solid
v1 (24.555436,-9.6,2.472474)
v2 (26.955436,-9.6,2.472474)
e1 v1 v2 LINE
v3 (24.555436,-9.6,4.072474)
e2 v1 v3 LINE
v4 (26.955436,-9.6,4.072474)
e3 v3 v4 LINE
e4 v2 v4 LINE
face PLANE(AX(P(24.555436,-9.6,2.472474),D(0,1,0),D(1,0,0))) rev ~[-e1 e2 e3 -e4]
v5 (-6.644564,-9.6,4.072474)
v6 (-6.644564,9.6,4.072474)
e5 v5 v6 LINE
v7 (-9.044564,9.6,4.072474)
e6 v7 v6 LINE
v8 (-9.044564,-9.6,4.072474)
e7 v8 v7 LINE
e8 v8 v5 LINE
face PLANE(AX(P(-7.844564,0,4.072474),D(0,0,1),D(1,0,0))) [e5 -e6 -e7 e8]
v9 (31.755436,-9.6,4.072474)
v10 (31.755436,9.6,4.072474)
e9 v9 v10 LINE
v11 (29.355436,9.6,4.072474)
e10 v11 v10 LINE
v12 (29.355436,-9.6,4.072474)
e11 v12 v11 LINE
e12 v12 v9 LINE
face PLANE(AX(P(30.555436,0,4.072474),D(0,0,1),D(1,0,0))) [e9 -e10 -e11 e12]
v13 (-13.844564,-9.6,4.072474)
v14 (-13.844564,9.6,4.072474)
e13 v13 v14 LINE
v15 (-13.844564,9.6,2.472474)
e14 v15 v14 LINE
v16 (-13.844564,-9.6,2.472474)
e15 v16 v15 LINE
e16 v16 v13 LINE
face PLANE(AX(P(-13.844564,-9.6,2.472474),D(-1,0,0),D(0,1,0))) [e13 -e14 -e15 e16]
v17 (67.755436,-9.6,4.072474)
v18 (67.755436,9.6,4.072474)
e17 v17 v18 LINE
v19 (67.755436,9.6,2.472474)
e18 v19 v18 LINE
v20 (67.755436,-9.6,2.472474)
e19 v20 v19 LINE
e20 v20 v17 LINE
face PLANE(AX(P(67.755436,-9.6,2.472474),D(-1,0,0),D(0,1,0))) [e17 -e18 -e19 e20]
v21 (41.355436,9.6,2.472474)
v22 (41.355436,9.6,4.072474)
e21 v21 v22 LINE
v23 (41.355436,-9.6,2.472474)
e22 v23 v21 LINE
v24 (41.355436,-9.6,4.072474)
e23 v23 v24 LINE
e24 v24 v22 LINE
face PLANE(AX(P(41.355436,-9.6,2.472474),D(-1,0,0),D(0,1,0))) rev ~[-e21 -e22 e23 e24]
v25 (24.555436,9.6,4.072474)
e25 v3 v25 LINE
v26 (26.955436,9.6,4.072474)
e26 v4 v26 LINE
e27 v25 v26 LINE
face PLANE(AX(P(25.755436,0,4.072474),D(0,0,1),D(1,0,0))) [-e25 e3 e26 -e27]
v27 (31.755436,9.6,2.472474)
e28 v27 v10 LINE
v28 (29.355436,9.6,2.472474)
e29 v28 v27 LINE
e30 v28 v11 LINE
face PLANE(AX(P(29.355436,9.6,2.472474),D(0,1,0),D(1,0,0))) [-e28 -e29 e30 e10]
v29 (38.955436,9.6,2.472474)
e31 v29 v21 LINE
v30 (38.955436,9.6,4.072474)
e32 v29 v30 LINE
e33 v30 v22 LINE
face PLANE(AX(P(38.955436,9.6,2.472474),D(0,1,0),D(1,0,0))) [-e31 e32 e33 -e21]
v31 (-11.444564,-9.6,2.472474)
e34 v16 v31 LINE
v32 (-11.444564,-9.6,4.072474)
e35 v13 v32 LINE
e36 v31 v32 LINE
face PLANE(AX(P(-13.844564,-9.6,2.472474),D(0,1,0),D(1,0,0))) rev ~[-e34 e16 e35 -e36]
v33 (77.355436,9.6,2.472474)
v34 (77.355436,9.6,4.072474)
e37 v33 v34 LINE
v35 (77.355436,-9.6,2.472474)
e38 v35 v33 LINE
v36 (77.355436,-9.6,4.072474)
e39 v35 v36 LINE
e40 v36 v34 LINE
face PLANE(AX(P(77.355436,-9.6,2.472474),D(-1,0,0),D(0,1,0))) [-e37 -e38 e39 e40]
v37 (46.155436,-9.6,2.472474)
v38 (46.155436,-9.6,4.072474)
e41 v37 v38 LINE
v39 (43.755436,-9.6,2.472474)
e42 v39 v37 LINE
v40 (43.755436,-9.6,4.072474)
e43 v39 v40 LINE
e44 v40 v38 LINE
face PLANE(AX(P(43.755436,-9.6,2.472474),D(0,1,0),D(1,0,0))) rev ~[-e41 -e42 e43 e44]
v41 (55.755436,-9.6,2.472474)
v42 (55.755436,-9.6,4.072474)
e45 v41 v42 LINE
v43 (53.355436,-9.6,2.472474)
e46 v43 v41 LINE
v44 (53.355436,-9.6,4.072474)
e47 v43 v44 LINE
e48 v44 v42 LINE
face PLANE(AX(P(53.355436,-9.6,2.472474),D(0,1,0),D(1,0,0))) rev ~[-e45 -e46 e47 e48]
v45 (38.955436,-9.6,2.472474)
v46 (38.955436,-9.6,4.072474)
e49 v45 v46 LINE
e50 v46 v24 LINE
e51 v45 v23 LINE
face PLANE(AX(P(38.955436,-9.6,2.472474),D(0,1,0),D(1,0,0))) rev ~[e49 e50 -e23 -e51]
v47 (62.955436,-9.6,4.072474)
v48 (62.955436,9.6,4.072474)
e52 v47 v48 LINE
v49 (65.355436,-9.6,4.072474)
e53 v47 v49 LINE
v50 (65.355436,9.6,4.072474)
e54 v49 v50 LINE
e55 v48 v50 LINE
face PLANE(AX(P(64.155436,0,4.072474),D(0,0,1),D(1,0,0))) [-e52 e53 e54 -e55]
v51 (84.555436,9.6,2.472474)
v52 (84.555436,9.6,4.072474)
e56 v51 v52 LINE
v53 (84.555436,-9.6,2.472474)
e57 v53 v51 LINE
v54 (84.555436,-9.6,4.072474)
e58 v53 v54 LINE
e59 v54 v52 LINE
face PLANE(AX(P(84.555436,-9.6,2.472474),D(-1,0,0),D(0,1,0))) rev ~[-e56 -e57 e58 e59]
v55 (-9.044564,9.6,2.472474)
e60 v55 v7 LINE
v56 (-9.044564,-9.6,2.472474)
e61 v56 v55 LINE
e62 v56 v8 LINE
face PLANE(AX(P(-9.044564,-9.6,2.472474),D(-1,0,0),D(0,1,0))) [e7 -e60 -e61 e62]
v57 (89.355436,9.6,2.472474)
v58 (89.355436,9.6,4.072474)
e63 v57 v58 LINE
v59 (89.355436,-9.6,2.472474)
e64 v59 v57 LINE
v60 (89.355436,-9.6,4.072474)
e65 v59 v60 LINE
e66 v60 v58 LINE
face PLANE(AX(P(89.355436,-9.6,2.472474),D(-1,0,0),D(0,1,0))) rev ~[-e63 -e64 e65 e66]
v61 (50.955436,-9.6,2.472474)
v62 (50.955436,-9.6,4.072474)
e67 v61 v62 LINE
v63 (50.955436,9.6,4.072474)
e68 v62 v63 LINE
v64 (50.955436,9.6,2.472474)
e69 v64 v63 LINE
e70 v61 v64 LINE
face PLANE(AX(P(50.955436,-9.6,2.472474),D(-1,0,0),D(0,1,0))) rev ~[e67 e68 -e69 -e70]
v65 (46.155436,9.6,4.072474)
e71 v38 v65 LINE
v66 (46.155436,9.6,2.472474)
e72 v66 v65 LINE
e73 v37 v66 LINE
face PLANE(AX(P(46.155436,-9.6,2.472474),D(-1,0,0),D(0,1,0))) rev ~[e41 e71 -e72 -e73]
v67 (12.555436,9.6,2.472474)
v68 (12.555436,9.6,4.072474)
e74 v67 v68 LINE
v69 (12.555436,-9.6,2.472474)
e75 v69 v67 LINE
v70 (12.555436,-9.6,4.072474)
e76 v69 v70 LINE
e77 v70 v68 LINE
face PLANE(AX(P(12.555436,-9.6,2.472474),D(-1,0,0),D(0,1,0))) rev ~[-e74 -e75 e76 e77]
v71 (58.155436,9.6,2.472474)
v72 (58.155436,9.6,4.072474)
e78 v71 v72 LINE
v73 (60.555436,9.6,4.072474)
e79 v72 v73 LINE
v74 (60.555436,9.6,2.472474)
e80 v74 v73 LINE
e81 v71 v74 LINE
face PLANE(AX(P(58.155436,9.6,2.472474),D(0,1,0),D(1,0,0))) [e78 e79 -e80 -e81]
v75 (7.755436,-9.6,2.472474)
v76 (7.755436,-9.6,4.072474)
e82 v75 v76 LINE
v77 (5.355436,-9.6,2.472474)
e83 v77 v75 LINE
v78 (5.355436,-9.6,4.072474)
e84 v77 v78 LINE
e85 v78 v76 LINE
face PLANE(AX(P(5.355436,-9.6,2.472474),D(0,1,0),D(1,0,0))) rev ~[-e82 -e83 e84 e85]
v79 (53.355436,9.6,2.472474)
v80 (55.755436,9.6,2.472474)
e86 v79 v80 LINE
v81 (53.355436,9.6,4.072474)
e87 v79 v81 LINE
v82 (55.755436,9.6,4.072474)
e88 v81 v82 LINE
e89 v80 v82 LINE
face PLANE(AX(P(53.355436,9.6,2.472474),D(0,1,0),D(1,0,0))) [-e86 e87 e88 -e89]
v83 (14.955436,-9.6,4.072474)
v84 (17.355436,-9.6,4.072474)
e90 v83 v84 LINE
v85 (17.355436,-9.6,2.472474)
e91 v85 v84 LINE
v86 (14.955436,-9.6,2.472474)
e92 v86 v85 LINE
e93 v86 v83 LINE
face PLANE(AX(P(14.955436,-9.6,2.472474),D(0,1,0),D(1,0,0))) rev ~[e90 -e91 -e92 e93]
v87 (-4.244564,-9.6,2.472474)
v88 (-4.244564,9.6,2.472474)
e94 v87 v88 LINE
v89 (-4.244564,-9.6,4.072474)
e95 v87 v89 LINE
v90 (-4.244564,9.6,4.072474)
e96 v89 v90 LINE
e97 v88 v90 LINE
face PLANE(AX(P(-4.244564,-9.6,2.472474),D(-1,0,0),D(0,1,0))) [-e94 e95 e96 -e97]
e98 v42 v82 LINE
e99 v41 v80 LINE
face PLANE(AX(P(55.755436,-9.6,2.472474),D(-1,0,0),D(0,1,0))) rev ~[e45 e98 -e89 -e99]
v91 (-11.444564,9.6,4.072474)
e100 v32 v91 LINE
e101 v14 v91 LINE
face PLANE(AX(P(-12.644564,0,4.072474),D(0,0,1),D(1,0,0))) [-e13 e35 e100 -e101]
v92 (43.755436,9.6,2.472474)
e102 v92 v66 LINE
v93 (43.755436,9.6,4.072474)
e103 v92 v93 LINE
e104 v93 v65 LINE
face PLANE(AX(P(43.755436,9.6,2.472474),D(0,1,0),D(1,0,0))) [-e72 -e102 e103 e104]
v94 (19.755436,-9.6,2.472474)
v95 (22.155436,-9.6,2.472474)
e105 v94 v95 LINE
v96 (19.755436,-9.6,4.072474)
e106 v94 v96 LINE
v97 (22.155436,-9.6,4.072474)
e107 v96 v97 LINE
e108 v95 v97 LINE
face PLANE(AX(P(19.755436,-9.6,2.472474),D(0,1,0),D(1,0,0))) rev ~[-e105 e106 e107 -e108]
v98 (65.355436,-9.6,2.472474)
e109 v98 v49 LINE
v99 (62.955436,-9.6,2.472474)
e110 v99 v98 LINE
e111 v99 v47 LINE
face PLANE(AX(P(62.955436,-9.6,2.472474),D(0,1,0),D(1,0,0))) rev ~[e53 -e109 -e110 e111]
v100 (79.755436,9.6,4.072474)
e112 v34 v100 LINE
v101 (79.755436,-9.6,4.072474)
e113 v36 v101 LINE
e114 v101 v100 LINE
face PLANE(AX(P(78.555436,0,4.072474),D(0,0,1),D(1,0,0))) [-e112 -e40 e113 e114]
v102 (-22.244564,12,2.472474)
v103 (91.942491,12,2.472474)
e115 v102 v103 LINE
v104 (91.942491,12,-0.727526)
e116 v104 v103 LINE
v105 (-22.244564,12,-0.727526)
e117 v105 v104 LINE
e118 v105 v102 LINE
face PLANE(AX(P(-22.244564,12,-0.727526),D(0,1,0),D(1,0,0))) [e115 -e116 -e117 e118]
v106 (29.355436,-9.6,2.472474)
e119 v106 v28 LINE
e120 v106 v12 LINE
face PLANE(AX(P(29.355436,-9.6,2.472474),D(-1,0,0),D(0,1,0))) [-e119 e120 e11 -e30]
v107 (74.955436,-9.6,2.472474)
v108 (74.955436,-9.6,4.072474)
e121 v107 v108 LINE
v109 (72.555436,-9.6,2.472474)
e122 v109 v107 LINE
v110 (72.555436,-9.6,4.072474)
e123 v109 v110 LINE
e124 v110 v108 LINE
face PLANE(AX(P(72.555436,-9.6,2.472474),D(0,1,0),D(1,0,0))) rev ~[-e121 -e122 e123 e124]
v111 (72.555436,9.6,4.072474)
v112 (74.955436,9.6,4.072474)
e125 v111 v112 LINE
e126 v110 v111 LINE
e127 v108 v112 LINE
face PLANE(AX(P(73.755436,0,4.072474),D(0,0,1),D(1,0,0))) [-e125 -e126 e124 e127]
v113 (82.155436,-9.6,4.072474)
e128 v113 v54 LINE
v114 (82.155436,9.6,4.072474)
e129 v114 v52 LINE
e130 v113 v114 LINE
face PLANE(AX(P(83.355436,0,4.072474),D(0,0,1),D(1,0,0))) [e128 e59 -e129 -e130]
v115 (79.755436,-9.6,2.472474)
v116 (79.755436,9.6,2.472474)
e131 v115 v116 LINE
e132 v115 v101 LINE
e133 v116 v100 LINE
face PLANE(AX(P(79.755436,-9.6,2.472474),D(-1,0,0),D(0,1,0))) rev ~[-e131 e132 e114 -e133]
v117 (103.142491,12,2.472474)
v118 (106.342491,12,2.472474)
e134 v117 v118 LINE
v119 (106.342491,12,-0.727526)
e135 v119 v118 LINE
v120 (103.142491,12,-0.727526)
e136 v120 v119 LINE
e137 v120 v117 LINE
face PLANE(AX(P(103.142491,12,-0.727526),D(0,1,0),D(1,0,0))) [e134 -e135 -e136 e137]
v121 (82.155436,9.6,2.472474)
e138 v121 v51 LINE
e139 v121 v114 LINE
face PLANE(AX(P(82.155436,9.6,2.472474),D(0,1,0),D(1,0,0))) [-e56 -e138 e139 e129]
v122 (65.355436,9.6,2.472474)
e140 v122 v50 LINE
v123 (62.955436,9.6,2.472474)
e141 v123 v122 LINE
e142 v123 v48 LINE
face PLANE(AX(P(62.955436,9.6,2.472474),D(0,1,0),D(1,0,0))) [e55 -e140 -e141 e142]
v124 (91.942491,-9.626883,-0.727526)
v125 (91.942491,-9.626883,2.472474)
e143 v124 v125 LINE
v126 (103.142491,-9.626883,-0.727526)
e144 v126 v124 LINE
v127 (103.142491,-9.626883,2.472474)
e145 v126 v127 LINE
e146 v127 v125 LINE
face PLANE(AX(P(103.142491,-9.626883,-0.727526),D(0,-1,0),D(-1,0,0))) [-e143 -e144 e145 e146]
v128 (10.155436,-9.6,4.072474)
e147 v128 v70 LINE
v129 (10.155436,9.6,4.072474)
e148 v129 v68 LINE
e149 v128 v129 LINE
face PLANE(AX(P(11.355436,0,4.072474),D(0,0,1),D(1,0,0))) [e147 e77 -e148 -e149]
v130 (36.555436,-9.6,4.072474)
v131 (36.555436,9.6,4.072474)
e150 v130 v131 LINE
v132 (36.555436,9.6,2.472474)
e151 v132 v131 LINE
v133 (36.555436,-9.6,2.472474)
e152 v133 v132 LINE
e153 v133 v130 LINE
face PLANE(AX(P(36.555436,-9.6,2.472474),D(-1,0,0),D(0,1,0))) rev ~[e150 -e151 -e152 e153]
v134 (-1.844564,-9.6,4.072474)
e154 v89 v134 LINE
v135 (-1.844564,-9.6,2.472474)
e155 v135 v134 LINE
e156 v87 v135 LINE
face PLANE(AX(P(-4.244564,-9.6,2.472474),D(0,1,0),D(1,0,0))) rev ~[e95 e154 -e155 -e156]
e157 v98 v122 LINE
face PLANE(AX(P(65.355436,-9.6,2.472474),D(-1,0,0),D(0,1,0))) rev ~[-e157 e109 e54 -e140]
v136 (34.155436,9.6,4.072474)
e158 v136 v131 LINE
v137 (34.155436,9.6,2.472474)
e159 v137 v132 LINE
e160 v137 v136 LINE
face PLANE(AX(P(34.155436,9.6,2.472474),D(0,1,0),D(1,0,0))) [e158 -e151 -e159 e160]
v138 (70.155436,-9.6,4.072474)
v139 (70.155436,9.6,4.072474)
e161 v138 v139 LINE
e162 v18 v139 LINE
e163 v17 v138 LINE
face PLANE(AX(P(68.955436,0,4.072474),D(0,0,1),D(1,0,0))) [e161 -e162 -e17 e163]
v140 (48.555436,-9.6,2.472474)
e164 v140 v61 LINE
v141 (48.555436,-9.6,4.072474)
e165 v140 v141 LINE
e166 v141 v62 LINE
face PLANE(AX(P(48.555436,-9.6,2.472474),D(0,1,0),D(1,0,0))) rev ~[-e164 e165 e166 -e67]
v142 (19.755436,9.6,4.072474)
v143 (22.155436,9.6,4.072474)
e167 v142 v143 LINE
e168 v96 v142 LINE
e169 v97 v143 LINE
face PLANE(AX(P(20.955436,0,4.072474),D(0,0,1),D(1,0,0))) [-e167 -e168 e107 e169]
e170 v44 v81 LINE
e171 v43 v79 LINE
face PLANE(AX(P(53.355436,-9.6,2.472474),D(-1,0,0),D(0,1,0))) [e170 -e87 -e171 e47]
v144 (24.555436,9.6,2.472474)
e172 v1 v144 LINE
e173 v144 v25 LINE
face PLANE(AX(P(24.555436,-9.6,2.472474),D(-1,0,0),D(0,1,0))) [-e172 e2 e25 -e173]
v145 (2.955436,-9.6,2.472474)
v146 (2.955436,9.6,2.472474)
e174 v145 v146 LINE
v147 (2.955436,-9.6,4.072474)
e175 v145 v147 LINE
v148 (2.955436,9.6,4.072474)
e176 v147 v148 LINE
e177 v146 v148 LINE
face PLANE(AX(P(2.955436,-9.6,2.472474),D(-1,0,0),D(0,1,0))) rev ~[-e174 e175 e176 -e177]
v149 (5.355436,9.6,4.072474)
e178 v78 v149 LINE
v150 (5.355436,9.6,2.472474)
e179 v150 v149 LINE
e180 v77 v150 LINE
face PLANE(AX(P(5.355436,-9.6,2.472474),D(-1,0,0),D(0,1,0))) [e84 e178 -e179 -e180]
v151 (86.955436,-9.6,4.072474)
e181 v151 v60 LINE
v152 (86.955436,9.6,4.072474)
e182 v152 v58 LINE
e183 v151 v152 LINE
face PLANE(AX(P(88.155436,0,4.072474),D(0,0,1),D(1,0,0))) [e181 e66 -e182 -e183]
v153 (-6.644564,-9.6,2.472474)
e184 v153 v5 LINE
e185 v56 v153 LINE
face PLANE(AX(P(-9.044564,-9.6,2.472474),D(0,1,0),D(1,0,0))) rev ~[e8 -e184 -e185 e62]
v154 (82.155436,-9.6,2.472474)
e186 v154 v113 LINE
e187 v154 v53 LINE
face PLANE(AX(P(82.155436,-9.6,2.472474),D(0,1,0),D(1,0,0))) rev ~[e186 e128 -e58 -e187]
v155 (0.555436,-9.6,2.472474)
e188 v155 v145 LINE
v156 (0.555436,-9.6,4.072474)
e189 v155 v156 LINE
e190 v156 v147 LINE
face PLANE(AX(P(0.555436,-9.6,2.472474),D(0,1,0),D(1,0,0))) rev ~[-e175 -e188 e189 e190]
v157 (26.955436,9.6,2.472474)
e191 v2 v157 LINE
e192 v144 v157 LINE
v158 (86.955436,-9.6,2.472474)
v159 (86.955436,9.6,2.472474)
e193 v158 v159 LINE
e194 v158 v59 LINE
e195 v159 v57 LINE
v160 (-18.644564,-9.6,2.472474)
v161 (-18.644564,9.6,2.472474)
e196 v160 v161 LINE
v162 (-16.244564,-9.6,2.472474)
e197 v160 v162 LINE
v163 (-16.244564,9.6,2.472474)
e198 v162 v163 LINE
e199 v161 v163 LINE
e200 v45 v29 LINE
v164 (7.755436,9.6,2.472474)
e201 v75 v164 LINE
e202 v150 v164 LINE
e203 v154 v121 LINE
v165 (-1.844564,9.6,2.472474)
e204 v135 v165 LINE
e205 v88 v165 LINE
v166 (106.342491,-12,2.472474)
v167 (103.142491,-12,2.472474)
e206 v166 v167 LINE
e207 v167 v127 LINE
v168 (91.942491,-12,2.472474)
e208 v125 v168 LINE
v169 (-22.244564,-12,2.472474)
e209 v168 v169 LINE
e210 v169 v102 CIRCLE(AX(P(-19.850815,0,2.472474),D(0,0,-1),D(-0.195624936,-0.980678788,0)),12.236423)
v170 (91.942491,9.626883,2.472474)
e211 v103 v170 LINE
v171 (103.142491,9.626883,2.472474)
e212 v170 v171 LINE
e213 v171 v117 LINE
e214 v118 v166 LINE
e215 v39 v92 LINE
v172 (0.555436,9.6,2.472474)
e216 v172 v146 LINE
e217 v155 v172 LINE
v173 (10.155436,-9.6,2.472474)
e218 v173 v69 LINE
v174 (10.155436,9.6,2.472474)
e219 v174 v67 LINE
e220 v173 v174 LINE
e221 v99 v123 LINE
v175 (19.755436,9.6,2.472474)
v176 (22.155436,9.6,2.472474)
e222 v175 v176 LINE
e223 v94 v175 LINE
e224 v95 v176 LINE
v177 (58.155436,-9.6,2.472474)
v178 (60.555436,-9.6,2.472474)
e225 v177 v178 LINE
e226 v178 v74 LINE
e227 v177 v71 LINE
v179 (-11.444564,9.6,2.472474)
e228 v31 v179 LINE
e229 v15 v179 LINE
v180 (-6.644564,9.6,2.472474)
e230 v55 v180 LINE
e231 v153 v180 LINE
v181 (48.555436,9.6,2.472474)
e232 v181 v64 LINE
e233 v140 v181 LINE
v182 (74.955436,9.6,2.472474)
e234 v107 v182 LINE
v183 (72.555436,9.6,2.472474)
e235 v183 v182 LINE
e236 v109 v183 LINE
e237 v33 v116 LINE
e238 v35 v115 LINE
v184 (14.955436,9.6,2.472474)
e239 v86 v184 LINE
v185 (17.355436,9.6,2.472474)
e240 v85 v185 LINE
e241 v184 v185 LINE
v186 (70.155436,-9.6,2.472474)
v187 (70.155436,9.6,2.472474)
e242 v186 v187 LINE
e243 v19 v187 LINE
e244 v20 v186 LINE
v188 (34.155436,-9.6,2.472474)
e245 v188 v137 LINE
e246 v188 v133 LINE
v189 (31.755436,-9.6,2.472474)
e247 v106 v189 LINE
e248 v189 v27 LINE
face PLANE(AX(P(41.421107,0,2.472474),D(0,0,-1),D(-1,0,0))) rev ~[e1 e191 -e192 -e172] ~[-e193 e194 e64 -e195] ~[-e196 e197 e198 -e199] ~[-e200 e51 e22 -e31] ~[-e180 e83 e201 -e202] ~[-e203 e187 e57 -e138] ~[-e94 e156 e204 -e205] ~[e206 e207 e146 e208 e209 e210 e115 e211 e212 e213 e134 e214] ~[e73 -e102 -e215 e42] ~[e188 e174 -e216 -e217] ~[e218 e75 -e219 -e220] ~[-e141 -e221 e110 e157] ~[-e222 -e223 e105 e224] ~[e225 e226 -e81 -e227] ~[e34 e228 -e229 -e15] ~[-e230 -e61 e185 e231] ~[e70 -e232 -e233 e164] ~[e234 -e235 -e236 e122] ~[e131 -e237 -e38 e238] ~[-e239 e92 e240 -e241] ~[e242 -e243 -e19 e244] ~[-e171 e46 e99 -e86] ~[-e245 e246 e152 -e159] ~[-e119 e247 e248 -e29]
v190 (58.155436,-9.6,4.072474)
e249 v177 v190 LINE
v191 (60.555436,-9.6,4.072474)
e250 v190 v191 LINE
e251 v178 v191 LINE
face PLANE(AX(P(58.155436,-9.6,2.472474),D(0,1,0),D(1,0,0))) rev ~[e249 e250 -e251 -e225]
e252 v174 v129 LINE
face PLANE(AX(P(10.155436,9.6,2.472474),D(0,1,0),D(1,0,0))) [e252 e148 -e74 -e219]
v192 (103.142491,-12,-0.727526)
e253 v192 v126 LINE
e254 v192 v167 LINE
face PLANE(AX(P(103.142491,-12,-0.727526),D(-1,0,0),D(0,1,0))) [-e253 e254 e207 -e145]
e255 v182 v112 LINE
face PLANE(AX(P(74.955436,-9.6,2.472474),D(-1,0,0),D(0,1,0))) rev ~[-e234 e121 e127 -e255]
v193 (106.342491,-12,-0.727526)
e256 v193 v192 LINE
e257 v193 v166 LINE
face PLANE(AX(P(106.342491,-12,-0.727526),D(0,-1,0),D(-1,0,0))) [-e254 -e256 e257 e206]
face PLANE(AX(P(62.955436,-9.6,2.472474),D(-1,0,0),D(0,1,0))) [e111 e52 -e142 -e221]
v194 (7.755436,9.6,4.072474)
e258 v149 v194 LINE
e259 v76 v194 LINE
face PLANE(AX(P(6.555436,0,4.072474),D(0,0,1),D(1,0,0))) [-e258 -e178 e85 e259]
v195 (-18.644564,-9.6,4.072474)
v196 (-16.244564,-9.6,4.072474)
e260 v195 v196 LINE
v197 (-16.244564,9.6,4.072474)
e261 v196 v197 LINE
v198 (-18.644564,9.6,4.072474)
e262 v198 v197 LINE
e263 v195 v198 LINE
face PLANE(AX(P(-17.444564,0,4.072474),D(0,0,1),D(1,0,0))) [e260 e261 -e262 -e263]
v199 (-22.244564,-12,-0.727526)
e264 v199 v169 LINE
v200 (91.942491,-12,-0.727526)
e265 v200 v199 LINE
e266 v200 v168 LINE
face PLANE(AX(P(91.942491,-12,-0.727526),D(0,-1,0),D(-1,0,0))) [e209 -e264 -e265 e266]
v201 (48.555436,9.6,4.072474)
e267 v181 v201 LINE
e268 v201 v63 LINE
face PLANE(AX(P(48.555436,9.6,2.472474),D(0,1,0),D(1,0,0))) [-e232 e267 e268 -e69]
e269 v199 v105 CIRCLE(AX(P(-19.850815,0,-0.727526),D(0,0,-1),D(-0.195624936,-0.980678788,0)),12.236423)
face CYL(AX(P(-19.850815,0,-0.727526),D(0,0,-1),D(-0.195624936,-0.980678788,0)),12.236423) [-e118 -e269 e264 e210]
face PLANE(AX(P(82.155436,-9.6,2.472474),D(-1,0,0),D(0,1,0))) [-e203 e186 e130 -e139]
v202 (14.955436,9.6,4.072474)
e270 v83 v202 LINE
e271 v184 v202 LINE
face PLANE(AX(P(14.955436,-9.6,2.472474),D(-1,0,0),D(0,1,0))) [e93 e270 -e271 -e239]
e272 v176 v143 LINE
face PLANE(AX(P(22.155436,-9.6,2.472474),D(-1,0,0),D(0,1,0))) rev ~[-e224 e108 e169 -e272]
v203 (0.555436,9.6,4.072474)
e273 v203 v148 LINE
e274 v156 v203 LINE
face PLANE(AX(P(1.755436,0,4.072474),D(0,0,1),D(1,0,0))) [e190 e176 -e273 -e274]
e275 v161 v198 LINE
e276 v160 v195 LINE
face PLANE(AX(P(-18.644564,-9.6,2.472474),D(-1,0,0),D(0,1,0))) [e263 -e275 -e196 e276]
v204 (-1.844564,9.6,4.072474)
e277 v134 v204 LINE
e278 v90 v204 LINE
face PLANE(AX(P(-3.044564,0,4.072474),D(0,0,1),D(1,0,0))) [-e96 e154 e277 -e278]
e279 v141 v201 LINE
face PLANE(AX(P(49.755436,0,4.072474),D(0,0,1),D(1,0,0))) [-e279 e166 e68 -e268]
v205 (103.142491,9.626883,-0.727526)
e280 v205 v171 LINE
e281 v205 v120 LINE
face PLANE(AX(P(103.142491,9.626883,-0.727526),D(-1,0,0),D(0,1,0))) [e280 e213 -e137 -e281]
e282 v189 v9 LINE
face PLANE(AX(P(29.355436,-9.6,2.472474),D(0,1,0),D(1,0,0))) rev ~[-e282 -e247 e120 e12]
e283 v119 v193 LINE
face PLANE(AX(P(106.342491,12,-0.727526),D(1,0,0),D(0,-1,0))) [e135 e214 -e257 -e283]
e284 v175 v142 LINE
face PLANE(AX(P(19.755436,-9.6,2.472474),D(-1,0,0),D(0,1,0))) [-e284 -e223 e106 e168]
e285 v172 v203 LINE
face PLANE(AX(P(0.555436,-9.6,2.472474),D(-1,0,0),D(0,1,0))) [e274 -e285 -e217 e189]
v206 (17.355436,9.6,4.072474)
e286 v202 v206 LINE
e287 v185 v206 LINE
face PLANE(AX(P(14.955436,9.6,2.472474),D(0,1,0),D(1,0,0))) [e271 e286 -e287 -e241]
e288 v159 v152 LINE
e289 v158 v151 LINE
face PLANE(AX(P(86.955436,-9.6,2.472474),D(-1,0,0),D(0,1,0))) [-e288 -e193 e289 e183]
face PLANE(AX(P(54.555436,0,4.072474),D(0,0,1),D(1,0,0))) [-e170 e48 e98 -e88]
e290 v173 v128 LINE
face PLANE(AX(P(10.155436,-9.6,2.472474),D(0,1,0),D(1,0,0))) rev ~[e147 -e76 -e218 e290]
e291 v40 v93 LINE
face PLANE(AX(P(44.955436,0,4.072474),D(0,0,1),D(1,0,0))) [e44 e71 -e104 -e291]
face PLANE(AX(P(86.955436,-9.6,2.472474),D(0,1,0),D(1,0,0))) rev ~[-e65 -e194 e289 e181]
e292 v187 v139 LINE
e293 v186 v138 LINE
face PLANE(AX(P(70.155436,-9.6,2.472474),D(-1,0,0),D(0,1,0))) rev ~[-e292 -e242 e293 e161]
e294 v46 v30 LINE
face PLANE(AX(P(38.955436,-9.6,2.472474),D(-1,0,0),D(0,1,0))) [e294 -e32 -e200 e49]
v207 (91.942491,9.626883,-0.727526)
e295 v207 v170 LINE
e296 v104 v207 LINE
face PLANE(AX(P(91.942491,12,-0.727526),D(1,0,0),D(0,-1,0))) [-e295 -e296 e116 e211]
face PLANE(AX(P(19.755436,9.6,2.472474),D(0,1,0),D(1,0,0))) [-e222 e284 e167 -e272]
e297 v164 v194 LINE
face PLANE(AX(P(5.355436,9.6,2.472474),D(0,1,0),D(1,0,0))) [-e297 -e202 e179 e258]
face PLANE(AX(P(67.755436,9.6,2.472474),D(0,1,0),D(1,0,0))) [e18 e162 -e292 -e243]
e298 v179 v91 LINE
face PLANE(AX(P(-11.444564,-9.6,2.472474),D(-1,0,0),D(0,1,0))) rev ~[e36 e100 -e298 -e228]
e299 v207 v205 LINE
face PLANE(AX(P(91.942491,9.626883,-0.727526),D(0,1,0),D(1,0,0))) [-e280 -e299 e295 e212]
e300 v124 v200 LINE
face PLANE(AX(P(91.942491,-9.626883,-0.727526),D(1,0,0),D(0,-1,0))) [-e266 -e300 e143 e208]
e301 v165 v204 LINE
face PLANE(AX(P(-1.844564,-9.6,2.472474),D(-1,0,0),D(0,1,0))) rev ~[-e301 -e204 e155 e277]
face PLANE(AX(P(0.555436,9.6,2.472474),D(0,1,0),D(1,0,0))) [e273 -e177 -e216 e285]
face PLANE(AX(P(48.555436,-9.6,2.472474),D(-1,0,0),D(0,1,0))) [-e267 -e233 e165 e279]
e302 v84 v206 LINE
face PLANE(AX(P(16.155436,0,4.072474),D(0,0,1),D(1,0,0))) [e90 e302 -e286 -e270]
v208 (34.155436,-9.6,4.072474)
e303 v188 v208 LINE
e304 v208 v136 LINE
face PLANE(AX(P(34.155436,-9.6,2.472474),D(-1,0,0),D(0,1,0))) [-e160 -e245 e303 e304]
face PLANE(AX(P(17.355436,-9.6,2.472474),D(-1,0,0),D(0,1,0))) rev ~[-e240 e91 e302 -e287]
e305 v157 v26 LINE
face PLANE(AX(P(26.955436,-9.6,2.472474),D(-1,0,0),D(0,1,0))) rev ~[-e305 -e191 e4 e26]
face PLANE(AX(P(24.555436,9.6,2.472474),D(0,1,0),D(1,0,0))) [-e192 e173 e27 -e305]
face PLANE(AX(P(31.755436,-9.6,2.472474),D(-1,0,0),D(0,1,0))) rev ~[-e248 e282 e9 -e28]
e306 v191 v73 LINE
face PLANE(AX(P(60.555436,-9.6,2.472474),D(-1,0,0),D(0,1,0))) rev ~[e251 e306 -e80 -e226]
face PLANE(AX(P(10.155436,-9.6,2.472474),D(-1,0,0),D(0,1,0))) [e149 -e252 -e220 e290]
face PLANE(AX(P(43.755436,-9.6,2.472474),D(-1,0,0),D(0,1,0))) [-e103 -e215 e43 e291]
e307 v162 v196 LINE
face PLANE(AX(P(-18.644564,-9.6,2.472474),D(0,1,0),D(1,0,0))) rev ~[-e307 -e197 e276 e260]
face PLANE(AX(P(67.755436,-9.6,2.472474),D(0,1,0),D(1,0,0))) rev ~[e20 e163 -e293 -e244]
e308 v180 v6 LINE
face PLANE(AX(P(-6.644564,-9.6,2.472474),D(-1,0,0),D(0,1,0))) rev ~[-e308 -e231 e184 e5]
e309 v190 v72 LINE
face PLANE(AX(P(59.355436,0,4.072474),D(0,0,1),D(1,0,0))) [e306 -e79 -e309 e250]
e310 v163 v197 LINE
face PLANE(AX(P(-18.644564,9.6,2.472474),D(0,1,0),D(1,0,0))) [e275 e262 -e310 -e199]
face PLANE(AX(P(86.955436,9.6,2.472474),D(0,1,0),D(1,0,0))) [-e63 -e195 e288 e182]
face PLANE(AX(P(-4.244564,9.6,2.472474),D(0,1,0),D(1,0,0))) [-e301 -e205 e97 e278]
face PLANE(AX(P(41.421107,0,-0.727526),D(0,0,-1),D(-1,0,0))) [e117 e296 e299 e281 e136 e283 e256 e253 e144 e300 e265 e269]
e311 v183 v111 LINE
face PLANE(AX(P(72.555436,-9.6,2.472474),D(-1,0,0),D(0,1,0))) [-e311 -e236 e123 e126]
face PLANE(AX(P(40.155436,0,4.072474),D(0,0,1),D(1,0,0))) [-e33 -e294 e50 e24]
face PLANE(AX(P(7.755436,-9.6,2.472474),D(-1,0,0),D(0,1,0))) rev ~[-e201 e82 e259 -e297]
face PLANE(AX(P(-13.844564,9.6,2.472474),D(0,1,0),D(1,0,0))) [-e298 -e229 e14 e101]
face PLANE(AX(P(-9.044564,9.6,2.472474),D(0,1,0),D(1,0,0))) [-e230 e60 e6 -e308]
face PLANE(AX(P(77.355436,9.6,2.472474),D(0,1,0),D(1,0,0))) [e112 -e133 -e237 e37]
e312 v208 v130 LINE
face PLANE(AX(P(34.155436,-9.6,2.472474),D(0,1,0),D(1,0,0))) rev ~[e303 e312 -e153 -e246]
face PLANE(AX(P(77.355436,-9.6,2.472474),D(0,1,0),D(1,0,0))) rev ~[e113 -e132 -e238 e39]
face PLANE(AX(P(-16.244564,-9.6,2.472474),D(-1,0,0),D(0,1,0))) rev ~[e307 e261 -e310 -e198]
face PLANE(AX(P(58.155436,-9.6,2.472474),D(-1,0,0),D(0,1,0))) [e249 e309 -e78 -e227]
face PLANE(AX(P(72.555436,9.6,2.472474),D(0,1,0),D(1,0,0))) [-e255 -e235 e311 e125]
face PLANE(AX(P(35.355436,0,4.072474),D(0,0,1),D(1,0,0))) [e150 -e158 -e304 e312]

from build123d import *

# Parameters (mm, degrees)
EXTRUDE_1_DEPTH = 2
SKETCH_2_W      = 1.5
SKETCH_2_H      = 12
EXTRUDE_2_DEPTH = 1
SCALE_1_SCALE   = 1.6


with BuildPart() as part:
    # 草图1 → 凸台-拉伸1 (new body)
    with BuildSketch(Plane.XY):
        with BuildLine():
            Line((0, 7.5), (71.36690944, 7.5))
            Line((71.36690944, 7.5), (71.36690944, 6.01680195))
            Line((71.36690944, 6.01680195), (78.36690944, 6.01680195))
            Line((78.36690944, 6.01680195), (78.36690944, 7.5))
            Line((78.36690944, 7.5), (80.36690944, 7.5))
            Line((80.36690944, 7.5), (80.36690944, -7.5))
            Line((80.36690944, -7.5), (78.36690944, -7.5))
            Line((78.36690944, -7.5), (78.36690944, -6.01680195))
            Line((78.36690944, -6.01680195), (71.36690944, -6.01680195))
            Line((71.36690944, -6.01680195), (71.36690944, -7.5))
            Line((71.36690944, -7.5), (0, -7.5))
            ThreePointArc((0, -7.5), (-6.151670717, 0), (0, 7.5))
        make_face()
    extrude(amount=EXTRUDE_1_DEPTH)

    # 草图2 → 凸台-拉伸2 (add)
    with BuildSketch(Plane.XY.offset(2)):
        with Locations((3, 0)):
            Rectangle(SKETCH_2_W, SKETCH_2_H)
        with Locations((6, 0)):
            Rectangle(SKETCH_2_W, SKETCH_2_H)
        with Locations((9, 0)):
            Rectangle(SKETCH_2_W, SKETCH_2_H)
        with Locations((12, 0)):
            Rectangle(SKETCH_2_W, SKETCH_2_H)
        with Locations((15, 0)):
            Rectangle(SKETCH_2_W, SKETCH_2_H)
        with Locations((18, 0)):
            Rectangle(SKETCH_2_W, SKETCH_2_H)
        with Locations((21, 0)):
            Rectangle(SKETCH_2_W, SKETCH_2_H)
        with Locations((24, 0)):
            Rectangle(SKETCH_2_W, SKETCH_2_H)
        with Locations((27, 0)):
            Rectangle(SKETCH_2_W, SKETCH_2_H)
        with Locations((30, 0)):
            Rectangle(SKETCH_2_W, SKETCH_2_H)
        with Locations((33, 0)):
            Rectangle(SKETCH_2_W, SKETCH_2_H)
        with Locations((36, 0)):
            Rectangle(SKETCH_2_W, SKETCH_2_H)
        with Locations((39, 0)):
            Rectangle(SKETCH_2_W, SKETCH_2_H)
        with Locations((42, 0)):
            Rectangle(SKETCH_2_W, SKETCH_2_H)
        with Locations((45, 0)):
            Rectangle(SKETCH_2_W, SKETCH_2_H)
        with Locations((48, 0)):
            Rectangle(SKETCH_2_W, SKETCH_2_H)
        with Locations((51, 0)):
            Rectangle(SKETCH_2_W, SKETCH_2_H)
        with Locations((54, 0)):
            Rectangle(SKETCH_2_W, SKETCH_2_H)
        with Locations((57, 0)):
            Rectangle(SKETCH_2_W, SKETCH_2_H)
        with Locations((60, 0)):
            Rectangle(SKETCH_2_W, SKETCH_2_H)
        with Locations((63, 0)):
            Rectangle(SKETCH_2_W, SKETCH_2_H)
        with Locations((66, 0)):
            Rectangle(SKETCH_2_W, SKETCH_2_H)
        with Locations((69, 0)):
            Rectangle(SKETCH_2_W, SKETCH_2_H)
    extrude(amount=EXTRUDE_2_DEPTH)


with BuildPart() as part_1:
    # 缩放比例1: scaled about (37.07427317, 0, 1.212543803)
    add(part.part.scale(SCALE_1_SCALE).moved(Location((-22.244563902, 0, -0.727526282))))


solid = part_1.part
